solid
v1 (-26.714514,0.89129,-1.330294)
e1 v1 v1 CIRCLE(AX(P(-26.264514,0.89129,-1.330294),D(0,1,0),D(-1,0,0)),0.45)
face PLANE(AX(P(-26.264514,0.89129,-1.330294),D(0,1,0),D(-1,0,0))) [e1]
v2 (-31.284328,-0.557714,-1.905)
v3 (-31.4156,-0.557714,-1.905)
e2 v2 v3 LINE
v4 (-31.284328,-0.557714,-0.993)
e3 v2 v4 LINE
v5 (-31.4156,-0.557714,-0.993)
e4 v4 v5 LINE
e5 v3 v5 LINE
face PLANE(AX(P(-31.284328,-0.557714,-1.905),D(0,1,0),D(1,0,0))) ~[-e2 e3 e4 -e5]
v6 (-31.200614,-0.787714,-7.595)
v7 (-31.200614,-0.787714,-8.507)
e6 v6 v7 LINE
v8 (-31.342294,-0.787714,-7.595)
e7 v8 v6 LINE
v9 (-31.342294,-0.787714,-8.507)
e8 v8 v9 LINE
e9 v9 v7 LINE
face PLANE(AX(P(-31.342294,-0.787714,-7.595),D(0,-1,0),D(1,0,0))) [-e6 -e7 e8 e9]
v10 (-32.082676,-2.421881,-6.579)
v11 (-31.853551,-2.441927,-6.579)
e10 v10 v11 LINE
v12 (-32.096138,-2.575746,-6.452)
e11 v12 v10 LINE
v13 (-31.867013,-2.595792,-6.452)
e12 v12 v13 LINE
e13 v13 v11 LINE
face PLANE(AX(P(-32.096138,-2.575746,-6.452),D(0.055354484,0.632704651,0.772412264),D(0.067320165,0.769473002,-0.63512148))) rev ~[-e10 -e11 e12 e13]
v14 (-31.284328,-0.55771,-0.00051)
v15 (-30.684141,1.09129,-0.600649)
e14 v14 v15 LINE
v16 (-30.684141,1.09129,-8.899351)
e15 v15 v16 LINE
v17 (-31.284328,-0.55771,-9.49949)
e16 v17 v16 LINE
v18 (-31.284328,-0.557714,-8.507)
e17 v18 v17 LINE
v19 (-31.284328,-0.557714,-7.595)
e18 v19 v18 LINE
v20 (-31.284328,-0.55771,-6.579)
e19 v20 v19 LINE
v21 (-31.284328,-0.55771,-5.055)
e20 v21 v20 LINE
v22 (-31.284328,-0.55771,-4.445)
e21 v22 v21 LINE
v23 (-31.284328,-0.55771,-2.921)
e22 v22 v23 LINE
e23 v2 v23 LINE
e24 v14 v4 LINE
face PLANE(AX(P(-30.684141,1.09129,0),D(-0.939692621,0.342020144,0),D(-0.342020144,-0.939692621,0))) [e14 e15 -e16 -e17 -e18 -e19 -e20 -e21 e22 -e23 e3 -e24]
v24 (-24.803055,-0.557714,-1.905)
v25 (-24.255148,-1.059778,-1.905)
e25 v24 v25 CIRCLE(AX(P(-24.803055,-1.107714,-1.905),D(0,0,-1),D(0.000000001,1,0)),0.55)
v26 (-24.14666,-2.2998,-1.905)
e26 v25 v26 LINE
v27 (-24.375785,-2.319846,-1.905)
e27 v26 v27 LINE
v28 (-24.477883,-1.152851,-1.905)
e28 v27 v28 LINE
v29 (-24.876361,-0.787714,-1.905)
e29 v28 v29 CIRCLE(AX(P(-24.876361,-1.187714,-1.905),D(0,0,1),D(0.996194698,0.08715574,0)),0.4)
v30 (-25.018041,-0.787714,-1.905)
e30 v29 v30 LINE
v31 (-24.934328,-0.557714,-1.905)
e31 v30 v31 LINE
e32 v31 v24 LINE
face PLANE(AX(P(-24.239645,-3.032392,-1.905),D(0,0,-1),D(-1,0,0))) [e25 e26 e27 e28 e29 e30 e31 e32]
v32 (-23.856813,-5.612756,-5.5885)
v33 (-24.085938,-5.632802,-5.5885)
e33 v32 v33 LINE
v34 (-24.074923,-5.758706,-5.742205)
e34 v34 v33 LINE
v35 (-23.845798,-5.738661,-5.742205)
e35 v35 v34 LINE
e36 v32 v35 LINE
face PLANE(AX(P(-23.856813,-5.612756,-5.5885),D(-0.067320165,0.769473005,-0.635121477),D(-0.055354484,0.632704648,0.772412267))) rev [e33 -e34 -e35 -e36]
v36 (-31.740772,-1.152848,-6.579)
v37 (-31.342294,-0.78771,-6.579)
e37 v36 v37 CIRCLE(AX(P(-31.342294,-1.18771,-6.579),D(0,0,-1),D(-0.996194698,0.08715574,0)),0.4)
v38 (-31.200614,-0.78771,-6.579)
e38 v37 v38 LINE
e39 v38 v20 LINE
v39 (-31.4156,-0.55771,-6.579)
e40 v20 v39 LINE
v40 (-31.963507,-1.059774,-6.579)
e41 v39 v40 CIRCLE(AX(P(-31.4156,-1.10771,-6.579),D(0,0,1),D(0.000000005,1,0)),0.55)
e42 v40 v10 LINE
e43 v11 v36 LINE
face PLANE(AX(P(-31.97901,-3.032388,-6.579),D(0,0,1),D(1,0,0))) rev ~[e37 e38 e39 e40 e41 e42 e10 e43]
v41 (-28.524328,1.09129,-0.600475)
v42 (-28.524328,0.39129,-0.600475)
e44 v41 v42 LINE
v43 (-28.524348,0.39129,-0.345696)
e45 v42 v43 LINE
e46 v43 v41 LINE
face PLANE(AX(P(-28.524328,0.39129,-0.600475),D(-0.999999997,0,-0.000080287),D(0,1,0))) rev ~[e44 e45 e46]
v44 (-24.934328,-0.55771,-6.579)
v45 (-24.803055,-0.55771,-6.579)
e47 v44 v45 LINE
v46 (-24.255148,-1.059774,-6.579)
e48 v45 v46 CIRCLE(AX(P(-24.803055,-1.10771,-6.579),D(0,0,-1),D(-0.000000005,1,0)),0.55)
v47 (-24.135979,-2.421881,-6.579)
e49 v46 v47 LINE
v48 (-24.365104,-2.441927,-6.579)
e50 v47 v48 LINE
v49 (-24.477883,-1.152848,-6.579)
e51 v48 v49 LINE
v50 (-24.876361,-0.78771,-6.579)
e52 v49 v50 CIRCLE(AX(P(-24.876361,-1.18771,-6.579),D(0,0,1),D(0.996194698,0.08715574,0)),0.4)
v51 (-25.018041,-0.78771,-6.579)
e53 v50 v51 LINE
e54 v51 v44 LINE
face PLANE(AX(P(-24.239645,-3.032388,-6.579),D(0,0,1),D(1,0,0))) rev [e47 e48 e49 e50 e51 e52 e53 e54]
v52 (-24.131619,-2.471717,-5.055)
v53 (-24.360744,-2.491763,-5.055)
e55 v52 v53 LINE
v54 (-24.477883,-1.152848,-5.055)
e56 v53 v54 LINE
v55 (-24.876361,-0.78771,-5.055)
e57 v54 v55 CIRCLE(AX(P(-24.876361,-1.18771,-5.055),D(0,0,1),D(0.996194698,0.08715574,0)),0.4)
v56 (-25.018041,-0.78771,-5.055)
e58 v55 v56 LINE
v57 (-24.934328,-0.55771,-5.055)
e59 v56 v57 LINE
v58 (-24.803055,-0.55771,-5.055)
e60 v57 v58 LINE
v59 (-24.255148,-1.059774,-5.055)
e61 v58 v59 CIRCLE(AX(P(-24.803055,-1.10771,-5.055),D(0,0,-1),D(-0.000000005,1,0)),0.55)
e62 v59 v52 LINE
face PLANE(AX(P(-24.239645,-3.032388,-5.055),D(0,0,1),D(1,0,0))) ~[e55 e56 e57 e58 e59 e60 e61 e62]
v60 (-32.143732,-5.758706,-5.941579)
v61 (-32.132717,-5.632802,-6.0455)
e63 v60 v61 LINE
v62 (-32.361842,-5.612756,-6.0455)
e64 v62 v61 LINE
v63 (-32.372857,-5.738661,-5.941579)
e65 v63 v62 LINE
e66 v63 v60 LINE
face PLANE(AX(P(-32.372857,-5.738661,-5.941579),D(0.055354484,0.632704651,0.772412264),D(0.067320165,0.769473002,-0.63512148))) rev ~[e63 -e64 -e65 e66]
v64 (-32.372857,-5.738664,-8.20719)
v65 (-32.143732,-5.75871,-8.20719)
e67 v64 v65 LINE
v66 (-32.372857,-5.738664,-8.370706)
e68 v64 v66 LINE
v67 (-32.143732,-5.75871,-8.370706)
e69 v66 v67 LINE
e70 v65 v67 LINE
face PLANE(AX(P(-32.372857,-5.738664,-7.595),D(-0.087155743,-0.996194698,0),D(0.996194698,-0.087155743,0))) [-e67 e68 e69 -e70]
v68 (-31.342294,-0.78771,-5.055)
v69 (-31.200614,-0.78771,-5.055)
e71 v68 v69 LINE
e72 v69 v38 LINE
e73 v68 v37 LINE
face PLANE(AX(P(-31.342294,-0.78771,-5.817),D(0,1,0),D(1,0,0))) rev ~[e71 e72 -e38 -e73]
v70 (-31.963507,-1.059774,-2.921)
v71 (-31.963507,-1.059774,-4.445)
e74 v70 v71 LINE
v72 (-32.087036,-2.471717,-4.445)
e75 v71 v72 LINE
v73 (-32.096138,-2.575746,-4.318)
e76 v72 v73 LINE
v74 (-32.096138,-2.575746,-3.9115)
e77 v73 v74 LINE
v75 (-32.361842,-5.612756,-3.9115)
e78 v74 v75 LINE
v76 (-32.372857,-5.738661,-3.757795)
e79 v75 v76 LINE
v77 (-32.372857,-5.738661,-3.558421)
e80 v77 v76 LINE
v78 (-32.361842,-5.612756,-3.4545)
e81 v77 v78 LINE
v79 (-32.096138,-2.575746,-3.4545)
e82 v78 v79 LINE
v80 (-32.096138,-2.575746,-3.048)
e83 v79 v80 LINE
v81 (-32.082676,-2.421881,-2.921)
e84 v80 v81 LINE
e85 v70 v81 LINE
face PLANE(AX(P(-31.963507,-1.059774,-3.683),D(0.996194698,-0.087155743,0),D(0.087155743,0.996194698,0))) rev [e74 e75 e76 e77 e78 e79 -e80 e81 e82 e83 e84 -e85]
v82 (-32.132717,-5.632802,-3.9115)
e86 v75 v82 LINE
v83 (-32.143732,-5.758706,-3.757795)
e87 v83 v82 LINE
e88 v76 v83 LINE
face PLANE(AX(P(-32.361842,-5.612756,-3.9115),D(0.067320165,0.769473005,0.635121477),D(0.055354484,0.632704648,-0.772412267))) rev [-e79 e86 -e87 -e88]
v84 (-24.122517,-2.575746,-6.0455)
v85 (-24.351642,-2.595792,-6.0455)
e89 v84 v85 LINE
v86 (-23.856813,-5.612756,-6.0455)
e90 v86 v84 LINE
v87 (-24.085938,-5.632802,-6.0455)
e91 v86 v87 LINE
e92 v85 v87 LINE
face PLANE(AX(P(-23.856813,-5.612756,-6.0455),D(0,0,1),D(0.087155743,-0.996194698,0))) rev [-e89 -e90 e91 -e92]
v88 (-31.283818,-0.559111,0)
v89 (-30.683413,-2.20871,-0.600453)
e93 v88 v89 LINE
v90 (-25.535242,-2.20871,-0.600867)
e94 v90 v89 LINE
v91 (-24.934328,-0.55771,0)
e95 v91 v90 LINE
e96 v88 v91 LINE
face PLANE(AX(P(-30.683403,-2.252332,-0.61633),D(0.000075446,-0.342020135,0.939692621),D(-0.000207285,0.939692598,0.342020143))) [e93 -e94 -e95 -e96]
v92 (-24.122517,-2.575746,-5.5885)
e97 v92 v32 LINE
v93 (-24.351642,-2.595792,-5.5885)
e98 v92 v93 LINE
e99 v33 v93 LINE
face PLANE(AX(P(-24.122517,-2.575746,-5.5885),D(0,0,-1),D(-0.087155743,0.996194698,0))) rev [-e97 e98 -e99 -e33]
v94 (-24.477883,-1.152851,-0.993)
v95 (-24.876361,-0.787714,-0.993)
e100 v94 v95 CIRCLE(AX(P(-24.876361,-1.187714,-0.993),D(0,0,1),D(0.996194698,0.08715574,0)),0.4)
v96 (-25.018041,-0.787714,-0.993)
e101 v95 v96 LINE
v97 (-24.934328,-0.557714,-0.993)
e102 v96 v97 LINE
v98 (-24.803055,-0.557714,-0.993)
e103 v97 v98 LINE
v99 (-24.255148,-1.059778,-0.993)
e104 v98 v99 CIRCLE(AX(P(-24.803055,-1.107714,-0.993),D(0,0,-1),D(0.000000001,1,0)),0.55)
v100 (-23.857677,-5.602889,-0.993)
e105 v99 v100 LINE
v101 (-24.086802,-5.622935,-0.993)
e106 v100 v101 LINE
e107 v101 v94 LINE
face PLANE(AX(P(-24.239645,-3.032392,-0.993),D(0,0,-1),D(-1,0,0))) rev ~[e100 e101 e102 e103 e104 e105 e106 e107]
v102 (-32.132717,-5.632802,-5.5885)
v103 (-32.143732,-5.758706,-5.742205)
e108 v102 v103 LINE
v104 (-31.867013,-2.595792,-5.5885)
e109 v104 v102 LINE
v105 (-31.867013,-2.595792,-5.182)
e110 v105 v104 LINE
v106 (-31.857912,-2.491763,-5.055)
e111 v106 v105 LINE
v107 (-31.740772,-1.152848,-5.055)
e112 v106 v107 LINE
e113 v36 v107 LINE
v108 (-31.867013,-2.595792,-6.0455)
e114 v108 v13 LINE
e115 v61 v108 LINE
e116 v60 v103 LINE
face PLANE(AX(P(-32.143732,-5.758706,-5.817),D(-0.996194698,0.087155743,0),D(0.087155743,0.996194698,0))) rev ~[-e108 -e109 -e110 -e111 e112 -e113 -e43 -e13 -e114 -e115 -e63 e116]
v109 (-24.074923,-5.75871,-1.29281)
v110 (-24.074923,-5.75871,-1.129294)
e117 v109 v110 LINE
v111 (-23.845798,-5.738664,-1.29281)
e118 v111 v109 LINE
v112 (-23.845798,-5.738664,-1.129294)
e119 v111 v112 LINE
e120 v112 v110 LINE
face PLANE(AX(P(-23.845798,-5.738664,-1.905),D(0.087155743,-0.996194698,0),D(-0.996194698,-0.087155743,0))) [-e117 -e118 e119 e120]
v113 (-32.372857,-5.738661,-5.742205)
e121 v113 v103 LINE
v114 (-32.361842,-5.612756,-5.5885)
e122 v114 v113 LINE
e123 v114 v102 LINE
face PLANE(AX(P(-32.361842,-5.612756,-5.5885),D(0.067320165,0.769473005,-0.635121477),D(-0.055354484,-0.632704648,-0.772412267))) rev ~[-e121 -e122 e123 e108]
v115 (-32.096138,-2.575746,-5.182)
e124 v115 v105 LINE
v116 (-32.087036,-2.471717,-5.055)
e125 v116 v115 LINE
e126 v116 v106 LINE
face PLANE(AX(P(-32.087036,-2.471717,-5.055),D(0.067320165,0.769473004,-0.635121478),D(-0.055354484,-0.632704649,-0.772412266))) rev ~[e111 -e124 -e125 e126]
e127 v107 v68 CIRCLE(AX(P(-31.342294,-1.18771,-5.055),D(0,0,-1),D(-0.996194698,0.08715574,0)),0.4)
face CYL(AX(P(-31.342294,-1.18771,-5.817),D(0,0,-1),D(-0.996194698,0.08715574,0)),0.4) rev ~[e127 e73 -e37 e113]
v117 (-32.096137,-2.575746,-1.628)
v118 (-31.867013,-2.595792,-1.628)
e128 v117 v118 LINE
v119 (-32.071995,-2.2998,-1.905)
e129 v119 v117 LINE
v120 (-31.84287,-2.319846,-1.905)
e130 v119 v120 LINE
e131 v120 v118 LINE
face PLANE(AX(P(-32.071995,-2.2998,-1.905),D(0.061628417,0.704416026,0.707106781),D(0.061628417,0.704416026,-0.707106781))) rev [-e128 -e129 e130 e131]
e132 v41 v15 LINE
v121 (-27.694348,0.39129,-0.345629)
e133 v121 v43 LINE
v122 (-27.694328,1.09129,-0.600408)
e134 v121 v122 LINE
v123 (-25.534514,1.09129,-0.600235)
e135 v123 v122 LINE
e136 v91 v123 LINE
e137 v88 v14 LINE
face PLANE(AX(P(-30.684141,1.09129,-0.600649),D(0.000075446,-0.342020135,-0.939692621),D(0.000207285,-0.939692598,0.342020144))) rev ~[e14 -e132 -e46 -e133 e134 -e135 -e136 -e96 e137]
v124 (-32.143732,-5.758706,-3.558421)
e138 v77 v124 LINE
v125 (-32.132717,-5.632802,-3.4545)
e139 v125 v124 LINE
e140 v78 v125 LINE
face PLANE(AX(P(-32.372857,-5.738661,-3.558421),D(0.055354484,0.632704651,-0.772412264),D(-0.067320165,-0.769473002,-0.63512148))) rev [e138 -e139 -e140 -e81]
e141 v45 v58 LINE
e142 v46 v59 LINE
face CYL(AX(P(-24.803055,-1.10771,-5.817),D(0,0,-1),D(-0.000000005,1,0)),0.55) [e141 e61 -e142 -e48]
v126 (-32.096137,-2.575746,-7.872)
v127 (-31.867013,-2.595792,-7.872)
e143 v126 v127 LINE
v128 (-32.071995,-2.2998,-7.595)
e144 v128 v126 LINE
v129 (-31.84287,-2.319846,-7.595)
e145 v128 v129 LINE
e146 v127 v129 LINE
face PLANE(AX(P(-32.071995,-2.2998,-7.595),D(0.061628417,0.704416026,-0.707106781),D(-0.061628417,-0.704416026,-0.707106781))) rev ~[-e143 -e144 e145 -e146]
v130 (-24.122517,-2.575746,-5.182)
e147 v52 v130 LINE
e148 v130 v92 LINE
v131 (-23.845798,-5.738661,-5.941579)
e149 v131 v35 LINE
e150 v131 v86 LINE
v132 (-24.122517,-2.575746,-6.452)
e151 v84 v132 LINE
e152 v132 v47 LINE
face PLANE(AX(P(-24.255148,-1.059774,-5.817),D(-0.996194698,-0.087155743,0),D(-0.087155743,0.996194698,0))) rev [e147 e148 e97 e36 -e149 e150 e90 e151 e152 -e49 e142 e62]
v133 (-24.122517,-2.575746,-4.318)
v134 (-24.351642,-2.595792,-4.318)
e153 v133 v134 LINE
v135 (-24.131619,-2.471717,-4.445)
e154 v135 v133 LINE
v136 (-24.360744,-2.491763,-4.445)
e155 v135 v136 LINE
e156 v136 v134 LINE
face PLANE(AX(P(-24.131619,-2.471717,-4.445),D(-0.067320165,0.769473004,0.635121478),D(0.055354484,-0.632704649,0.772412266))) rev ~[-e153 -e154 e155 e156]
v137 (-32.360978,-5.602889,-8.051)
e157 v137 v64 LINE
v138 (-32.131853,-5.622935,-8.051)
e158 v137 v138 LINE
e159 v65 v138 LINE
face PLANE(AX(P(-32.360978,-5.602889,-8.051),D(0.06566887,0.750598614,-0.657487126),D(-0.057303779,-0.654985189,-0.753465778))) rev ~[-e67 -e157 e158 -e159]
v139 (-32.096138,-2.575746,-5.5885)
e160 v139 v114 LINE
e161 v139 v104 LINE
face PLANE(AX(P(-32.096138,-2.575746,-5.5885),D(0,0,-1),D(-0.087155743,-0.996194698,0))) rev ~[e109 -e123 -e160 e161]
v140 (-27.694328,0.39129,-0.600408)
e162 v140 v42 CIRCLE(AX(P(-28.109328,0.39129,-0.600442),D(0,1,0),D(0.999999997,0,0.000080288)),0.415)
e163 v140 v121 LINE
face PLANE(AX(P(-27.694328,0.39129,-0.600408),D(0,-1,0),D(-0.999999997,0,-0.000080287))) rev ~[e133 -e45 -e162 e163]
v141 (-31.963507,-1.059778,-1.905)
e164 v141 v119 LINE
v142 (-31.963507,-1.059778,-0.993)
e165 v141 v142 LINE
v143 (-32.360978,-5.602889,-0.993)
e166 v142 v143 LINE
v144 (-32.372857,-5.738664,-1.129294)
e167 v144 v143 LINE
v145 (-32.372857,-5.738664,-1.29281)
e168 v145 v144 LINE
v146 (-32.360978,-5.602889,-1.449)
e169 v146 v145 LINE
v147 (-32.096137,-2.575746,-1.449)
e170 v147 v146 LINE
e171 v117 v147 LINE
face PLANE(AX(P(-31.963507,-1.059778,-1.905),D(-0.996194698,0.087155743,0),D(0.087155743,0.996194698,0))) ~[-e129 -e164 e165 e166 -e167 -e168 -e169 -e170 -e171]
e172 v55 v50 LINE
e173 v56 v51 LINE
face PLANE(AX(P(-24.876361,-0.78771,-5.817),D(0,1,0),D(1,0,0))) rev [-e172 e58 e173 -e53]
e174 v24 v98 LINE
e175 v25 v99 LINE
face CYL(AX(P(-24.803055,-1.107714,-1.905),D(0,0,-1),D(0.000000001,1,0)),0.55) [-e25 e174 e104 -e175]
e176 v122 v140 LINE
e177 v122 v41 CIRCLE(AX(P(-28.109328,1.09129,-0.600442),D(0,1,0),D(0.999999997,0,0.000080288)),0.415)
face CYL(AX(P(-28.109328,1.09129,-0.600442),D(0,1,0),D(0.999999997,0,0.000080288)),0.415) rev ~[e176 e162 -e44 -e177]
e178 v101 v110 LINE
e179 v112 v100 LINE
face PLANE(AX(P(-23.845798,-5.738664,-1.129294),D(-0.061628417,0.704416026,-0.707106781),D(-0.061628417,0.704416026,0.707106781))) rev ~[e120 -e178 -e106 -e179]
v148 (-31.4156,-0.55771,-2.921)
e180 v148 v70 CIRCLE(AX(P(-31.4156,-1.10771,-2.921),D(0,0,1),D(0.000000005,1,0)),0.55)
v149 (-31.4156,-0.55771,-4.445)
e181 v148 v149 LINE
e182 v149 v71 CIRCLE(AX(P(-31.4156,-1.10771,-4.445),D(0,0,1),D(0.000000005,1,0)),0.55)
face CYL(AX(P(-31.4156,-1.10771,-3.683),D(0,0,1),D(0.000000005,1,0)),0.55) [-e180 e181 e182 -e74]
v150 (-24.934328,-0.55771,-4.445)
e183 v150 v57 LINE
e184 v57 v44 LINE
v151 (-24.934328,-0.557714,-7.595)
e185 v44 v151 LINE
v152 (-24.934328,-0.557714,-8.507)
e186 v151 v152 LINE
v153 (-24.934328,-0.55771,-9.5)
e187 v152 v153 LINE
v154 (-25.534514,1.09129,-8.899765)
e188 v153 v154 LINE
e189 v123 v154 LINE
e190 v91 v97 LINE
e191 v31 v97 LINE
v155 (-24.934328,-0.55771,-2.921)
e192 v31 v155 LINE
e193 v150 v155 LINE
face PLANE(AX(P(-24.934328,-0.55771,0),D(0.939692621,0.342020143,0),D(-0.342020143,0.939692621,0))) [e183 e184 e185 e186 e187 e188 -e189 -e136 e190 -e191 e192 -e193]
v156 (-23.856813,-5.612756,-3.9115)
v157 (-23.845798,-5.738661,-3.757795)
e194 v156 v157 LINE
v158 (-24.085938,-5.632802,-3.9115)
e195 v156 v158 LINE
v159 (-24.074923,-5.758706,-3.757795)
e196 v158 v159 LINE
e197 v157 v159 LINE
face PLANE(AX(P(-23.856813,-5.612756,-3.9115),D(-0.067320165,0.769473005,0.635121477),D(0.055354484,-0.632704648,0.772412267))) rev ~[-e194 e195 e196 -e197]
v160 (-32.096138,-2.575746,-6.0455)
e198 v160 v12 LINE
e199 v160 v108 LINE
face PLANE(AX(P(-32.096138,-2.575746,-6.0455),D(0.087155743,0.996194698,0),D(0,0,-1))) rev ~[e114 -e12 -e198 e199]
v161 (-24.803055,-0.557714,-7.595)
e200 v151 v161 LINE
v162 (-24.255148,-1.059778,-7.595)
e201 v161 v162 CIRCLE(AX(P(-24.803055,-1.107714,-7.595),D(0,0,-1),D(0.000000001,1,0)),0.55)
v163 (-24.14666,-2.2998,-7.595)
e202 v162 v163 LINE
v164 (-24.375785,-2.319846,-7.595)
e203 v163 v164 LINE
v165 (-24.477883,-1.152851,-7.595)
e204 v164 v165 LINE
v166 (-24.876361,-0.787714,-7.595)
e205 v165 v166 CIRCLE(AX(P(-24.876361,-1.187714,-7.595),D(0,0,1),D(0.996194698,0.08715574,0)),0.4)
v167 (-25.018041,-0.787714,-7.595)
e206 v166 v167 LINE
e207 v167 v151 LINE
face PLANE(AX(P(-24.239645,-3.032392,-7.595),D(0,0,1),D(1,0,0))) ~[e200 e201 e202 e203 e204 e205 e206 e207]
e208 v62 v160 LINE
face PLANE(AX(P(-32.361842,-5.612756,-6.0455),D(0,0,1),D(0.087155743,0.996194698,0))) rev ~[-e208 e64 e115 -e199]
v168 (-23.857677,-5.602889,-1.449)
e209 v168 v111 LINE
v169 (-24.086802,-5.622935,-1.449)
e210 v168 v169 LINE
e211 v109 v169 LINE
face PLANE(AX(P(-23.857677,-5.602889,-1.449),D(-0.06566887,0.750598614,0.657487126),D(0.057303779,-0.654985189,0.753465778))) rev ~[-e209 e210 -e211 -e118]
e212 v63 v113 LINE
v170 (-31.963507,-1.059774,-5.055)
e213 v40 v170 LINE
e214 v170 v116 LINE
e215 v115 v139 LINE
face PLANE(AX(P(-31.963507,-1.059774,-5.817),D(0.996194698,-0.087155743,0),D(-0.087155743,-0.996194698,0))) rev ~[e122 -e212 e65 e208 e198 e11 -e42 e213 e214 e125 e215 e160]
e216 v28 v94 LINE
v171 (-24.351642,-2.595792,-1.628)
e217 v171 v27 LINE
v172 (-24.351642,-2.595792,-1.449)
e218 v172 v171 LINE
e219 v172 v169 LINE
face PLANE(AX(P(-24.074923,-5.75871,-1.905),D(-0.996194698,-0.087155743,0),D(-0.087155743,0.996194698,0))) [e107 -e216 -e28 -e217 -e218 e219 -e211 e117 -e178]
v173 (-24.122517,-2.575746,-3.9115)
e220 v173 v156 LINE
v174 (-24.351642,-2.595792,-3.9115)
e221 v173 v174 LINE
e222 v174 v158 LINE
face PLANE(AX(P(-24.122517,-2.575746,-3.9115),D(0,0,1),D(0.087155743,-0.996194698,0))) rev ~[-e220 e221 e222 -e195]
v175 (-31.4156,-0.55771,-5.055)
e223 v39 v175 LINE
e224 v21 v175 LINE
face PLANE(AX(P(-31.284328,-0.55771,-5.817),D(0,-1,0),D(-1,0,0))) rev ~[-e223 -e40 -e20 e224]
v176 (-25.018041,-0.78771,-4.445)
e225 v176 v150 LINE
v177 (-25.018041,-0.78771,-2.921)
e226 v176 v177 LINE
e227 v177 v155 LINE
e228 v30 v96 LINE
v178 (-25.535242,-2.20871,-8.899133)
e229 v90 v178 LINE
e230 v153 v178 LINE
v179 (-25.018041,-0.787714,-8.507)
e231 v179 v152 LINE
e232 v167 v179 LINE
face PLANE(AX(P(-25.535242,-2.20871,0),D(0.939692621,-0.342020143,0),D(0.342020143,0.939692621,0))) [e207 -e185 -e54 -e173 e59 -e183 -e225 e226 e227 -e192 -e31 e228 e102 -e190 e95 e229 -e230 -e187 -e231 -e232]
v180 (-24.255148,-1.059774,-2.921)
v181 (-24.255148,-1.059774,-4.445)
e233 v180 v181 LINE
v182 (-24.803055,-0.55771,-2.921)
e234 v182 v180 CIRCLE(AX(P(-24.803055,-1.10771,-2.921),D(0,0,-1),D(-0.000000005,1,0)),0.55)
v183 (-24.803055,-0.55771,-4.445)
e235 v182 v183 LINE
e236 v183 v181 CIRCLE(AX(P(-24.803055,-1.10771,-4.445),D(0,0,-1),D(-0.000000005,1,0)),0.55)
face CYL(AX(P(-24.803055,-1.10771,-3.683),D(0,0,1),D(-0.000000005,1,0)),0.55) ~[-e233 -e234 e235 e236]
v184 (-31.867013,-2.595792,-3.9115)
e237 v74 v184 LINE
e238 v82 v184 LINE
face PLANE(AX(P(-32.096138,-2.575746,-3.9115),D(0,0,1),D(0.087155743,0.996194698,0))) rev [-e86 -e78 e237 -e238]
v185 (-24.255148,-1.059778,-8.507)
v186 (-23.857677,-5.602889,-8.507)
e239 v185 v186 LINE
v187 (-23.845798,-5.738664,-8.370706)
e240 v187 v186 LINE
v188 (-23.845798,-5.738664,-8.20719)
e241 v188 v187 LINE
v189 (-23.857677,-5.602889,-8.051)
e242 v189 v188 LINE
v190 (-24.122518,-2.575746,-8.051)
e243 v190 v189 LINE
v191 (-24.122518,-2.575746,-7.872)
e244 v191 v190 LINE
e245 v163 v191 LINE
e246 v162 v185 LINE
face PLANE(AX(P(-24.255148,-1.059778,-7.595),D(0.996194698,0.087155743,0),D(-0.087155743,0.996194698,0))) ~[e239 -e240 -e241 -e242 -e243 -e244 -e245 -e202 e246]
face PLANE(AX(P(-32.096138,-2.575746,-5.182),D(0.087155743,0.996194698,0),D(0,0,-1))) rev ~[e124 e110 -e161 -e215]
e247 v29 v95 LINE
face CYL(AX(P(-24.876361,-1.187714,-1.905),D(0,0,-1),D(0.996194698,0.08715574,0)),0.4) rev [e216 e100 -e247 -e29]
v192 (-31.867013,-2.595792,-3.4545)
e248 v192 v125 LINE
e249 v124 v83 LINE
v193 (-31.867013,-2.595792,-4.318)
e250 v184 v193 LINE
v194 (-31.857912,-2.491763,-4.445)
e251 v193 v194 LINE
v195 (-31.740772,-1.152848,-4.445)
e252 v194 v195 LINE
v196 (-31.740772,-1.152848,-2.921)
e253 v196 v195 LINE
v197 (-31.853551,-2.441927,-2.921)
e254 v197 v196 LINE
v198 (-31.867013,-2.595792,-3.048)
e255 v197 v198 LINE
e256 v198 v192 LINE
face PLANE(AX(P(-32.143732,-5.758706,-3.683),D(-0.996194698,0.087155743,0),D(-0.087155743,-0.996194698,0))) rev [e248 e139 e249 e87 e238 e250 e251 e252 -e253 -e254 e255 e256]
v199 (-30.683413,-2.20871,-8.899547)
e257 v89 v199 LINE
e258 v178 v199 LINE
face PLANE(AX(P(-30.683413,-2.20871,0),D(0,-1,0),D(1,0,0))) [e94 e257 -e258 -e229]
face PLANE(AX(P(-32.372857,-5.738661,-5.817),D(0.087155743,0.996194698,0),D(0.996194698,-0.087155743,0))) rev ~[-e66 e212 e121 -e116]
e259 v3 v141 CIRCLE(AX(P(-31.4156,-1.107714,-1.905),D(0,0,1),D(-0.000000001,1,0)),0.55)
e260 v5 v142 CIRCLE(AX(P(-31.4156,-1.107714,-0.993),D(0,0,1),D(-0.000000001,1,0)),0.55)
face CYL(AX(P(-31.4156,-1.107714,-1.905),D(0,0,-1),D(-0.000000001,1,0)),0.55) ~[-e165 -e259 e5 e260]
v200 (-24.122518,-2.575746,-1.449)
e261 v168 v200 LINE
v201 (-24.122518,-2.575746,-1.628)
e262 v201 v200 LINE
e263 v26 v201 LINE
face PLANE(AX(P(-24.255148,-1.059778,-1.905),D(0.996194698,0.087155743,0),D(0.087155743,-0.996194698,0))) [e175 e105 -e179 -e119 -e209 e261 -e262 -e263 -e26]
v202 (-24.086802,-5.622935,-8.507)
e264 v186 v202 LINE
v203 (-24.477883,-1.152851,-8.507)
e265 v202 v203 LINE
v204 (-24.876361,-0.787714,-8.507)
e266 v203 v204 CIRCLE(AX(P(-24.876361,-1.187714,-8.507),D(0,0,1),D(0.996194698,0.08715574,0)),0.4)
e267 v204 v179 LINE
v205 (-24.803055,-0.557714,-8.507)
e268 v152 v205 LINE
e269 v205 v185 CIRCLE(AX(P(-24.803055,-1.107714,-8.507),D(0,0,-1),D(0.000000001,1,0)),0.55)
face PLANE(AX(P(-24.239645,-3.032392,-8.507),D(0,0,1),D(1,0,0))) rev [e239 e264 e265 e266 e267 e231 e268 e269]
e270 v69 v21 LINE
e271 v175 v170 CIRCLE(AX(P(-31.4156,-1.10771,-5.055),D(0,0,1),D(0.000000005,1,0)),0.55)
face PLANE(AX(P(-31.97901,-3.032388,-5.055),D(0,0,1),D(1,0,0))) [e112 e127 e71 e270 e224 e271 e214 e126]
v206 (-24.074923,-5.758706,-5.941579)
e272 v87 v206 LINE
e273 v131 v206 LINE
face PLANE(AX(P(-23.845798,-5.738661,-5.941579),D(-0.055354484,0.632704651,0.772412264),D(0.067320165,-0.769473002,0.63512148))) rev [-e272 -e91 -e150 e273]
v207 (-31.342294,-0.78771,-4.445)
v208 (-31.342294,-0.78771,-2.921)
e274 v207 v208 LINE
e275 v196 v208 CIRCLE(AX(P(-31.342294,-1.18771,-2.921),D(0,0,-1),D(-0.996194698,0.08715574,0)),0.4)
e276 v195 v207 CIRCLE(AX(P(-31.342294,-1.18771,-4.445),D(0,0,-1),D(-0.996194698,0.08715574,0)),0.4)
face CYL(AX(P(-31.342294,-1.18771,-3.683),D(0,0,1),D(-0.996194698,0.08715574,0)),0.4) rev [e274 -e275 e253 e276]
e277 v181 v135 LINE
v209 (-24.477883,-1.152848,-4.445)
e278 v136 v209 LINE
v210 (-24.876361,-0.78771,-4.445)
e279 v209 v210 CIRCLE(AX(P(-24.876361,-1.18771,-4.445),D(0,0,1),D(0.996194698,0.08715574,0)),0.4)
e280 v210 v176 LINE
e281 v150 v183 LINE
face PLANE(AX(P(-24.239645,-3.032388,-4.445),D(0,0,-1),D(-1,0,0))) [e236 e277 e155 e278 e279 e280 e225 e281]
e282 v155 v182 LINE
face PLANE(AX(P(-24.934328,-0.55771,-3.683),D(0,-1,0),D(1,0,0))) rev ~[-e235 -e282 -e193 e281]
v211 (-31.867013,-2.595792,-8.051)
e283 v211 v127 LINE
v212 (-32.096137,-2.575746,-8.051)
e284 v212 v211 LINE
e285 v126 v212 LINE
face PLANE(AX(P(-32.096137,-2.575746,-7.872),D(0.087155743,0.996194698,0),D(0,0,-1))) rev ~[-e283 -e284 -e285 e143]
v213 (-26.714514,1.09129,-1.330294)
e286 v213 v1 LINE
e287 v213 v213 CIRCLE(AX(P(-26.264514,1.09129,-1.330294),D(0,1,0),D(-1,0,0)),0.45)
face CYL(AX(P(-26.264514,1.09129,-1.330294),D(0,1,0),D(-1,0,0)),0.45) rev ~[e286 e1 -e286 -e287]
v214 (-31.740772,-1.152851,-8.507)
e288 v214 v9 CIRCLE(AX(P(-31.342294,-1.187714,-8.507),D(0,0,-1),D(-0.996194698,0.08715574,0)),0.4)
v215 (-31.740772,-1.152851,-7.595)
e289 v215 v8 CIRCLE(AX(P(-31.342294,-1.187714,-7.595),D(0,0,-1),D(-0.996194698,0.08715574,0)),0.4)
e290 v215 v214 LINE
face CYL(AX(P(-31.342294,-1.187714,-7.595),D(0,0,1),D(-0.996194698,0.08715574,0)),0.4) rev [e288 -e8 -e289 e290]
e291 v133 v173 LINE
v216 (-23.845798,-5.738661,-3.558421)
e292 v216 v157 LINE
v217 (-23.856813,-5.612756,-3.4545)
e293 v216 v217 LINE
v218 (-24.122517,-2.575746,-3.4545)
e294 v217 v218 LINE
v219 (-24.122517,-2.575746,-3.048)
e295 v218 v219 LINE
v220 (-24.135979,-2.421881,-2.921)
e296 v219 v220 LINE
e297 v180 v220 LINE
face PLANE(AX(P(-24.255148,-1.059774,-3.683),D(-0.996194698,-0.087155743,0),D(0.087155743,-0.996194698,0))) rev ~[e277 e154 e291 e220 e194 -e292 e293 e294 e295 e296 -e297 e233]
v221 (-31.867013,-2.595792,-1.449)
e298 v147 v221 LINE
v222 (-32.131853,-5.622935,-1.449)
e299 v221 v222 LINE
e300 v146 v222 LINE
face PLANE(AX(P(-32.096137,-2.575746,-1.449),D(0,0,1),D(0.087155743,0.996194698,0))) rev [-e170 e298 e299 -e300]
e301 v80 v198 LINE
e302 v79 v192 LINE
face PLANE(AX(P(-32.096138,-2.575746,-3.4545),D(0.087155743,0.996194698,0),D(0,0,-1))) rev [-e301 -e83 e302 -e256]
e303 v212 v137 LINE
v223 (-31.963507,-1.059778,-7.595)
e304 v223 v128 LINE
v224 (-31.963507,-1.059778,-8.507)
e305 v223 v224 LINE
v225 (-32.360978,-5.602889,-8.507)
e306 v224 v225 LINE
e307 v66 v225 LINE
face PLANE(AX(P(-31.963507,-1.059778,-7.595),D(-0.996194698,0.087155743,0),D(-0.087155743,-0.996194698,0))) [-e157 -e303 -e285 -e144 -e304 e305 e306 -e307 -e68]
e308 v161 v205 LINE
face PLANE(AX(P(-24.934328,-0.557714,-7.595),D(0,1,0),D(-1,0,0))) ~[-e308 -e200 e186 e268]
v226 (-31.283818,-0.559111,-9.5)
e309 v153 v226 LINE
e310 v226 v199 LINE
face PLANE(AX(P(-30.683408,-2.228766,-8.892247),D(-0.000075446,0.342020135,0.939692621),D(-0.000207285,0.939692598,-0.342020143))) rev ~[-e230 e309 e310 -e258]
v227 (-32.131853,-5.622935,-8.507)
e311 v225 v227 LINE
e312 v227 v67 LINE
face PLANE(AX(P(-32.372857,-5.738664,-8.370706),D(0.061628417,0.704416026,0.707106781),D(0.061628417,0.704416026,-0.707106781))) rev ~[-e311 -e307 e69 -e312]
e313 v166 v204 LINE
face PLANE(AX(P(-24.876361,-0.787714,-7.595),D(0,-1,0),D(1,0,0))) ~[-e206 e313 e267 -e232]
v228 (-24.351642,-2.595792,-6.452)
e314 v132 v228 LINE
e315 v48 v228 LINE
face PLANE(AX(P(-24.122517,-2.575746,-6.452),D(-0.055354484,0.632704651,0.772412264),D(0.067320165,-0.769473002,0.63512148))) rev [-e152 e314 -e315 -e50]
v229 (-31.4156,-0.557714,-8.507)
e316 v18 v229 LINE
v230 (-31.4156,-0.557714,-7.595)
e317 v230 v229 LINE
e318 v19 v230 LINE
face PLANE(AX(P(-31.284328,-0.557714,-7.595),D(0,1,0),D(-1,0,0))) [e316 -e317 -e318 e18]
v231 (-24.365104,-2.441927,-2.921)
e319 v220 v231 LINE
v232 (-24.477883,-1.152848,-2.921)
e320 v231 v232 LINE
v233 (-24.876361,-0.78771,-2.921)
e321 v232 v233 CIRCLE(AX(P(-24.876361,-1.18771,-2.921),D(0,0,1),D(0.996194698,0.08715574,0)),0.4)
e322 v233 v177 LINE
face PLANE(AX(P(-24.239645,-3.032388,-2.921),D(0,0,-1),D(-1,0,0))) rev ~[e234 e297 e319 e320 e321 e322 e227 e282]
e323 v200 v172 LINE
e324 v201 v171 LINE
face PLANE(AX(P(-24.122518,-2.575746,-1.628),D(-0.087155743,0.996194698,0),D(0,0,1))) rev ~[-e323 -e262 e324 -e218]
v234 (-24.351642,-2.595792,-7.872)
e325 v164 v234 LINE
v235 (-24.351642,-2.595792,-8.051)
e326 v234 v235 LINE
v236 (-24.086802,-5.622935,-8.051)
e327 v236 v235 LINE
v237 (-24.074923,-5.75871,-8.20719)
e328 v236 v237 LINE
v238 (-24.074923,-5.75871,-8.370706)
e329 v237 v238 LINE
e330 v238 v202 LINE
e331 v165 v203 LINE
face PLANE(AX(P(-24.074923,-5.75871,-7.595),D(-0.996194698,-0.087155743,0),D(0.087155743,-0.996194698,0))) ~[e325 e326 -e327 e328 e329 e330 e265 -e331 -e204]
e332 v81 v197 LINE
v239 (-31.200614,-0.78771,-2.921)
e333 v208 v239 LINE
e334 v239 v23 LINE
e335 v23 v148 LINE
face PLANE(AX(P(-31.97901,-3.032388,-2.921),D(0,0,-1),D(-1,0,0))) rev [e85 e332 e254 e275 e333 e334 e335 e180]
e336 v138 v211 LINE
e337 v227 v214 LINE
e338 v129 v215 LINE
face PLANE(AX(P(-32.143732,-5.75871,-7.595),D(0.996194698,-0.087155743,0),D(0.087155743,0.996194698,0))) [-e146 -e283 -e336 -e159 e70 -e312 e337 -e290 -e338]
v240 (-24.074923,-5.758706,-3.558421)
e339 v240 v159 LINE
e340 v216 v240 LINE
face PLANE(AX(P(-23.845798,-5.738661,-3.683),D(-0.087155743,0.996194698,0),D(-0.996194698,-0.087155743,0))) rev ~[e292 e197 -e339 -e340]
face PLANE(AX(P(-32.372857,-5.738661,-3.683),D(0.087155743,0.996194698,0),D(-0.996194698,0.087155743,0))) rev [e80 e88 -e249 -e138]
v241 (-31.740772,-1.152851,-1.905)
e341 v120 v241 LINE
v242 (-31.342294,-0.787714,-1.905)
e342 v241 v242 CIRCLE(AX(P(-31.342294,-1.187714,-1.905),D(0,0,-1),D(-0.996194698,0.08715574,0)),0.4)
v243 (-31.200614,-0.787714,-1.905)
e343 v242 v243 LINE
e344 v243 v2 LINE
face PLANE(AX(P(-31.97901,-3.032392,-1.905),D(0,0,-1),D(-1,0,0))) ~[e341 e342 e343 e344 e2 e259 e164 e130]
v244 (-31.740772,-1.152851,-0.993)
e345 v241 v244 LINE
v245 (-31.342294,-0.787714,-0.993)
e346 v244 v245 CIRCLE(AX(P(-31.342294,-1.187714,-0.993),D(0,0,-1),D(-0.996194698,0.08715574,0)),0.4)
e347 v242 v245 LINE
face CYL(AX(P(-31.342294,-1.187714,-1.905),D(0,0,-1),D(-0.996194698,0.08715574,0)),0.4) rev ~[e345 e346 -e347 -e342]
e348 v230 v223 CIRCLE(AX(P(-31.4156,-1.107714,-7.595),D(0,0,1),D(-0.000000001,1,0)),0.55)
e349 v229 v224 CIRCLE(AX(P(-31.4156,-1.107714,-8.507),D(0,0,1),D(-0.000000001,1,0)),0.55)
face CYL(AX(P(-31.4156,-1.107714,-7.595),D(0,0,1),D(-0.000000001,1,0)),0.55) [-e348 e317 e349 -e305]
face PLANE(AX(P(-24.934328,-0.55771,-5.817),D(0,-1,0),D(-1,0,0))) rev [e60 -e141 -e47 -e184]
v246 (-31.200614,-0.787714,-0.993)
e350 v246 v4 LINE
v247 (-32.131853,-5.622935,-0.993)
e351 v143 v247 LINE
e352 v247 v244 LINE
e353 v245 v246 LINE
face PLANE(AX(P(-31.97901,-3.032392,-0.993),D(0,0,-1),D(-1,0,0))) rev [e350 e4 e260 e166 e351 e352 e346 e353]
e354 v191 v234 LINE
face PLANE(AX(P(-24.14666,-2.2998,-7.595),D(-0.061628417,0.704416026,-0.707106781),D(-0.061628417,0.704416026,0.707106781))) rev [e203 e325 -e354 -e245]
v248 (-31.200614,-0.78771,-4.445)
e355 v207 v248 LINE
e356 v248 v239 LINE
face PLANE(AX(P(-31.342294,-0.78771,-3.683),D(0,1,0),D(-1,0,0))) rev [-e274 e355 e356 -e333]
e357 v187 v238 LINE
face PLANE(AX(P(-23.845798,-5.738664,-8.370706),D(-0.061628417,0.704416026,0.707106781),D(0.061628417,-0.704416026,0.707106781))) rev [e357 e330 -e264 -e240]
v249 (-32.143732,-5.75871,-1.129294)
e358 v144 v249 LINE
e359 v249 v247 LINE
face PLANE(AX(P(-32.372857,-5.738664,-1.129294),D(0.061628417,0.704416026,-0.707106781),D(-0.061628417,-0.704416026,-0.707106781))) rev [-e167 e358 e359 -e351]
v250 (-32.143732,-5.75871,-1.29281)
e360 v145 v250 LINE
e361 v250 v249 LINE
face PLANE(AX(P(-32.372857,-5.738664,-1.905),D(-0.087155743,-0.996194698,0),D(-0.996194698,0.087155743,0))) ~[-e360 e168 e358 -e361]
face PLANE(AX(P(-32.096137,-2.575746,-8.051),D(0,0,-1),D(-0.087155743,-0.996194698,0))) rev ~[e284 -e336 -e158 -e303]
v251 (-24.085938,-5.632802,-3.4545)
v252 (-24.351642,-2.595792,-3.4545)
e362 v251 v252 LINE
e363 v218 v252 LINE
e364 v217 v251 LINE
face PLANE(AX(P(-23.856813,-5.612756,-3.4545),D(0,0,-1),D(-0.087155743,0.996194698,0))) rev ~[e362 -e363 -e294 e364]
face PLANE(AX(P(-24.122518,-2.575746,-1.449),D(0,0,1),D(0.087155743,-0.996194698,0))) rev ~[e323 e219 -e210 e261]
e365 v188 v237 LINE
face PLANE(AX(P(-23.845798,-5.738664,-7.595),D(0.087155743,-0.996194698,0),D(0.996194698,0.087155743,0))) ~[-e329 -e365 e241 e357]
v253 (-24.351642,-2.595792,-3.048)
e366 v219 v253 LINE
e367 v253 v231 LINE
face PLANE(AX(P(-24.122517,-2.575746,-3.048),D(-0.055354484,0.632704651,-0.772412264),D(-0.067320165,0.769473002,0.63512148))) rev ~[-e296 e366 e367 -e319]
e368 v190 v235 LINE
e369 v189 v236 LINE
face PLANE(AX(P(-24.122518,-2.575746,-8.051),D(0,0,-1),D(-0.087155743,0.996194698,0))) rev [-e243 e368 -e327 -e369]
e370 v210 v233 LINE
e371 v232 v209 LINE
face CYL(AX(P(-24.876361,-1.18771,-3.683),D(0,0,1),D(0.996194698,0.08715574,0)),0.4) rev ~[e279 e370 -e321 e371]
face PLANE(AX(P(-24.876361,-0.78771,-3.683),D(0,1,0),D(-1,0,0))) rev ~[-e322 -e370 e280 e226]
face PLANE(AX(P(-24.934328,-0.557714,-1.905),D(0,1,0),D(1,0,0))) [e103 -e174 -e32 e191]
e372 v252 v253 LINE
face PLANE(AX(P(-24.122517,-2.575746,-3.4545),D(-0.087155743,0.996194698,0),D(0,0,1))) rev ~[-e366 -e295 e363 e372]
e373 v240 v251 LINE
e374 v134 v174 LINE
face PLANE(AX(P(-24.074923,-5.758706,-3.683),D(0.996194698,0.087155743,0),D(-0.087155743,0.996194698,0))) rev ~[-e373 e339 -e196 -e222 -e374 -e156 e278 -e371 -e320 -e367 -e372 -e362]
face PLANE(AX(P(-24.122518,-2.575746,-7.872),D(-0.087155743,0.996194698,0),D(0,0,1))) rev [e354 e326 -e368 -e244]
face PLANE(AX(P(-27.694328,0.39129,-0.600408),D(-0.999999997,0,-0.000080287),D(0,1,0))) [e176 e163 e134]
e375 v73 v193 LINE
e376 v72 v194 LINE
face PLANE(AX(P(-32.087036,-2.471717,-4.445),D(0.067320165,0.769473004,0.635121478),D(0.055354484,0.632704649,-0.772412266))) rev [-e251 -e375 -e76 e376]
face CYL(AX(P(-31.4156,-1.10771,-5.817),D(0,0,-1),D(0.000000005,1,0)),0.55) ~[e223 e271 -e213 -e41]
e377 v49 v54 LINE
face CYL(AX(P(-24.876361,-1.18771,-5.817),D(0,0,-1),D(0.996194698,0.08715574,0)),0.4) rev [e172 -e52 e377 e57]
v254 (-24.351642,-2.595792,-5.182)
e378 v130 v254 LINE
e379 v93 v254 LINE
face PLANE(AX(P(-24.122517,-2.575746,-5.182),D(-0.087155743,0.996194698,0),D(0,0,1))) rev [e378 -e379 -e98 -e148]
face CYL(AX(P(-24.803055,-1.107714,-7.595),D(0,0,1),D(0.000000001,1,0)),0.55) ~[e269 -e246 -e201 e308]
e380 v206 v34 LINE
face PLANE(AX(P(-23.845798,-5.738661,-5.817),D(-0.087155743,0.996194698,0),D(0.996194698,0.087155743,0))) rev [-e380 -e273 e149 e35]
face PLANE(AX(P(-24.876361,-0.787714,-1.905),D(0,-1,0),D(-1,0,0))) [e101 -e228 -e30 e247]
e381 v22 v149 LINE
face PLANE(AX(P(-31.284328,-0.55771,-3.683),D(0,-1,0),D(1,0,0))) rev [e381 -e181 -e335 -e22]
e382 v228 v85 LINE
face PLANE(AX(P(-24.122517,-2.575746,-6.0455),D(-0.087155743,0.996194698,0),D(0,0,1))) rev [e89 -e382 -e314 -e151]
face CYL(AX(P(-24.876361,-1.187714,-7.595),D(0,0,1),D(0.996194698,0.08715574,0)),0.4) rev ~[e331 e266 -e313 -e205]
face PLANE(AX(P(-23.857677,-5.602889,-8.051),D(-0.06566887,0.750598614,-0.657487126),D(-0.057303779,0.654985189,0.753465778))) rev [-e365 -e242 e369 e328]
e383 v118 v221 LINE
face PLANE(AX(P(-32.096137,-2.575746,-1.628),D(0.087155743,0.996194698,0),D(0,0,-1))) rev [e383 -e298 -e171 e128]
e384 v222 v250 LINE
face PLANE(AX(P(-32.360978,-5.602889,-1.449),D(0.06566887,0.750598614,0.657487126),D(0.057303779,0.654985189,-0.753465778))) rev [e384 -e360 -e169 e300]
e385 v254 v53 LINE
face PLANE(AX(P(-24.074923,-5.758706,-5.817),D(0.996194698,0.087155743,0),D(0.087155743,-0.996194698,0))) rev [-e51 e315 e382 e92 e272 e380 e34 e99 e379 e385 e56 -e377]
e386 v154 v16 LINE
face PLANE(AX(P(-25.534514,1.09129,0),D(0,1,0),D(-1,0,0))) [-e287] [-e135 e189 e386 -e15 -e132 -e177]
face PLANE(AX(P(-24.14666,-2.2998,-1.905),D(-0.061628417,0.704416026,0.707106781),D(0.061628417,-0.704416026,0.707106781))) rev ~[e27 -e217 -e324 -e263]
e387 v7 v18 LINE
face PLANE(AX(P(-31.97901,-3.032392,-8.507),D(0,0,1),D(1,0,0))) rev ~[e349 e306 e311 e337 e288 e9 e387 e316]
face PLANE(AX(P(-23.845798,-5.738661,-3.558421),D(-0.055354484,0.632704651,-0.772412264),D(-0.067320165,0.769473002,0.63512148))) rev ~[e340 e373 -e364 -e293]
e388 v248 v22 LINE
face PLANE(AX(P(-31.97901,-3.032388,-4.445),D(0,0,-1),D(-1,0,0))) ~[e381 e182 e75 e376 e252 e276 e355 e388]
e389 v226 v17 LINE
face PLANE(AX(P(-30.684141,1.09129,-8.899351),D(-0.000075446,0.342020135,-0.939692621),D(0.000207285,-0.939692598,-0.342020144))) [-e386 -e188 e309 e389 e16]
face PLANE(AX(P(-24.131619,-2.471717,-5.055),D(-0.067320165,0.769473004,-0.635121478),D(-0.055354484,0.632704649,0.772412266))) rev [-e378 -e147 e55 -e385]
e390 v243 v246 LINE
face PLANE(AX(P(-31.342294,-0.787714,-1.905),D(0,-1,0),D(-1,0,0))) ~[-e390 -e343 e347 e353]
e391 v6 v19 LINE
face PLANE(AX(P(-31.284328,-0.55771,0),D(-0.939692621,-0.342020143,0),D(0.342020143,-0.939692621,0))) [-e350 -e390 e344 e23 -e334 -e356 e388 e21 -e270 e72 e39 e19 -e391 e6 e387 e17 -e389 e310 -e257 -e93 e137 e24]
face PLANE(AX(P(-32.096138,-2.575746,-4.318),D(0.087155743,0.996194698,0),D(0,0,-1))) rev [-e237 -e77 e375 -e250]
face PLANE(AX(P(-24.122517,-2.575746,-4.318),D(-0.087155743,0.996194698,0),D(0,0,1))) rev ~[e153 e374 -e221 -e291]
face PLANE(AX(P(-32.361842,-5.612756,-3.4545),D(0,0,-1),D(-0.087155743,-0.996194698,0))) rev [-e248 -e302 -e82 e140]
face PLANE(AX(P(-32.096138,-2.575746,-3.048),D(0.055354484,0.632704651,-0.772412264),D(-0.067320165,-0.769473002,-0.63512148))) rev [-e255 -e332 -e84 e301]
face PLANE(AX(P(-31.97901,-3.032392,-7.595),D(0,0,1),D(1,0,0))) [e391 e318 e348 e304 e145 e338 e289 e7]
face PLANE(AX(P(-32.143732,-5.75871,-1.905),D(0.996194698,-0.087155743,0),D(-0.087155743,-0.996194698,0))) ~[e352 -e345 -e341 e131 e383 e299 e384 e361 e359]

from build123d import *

# Parameters (mm, degrees)
BOSS_EXTRUDE1_DEPTH     = 9.5
CUT_EXTRUDE2_DEPTH      = 9.5
CUT_EXTRUDE2_DEPTH_BACK = 9.5
CUT_EXTRUDE3_DEPTH      = 0.7
SKETCH4_W               = 0.83
SKETCH4_H               = 0.7
CUT_EXTRUDE4_DEPTH      = 0.7
BOSS_EXTRUDE2_START     = -0.762
BOSS_EXTRUDE2_DEPTH     = 0.912
CUT_EXTRUDE5_DEPTH      = 10.15
SKETCH9_R               = 0.45
CUT_EXTRUDE7_DEPTH      = 0.2
BOSS_EXTRUDE3_DEPTH     = 0.762
CUT_EXTRUDE6_DEPTH      = 0.762
MIRROR2_START           = -0.762
MIRROR2_COPY_1_DEPTH    = 0.912
MIRROR2_COPY_2_DEPTH    = 10.15
MIRROR2_COPY_3_DEPTH    = 0.762
MIRROR2_COPY_4_DEPTH    = 0.762


with BuildPart() as part:
    # Sketch1 → Boss-Extrude1 (new body)
    with BuildSketch(Plane.XY):
        Polygon((-24.934327538, -0.557710036), (-25.534514454, 1.091289964), (-30.684140621, 1.091289964), (-31.284327538, -0.557710036), (-30.683412681, -2.208710036), (-25.535242395, -2.208710036), align=None)
    extrude(amount=-BOSS_EXTRUDE1_DEPTH)

    # Sketch2 → Cut-Extrude2 (cut, two sides)
    with BuildSketch(Plane(origin=(-30.683898403, -0.0067685, 0), x_dir=(0, 0, 1), z_dir=(-0.9999999756704636, -0.00022058801540043594, 0))) as cut_extrude2_sk:
        Polygon((-0.616330332, -2.245563479), (0, -0.552209808), (0, -2.212209808), align=None)
        Polygon((-0.60064854, 1.098058491), (0, -0.552209808), (0, 1.098058491), align=None)
        Polygon((-9.5, -2.212209808), (-8.892247033, -2.221997362), (-9.5, -0.552209808), align=None)
        Polygon((-9.5, -0.552209808), (-9.5, 1.098058491), (-8.89935146, 1.098058491), align=None)
    extrude(amount=CUT_EXTRUDE2_DEPTH, mode=Mode.SUBTRACT)
    extrude(cut_extrude2_sk.sketch, amount=-CUT_EXTRUDE2_DEPTH_BACK, mode=Mode.SUBTRACT)

    # Sketch3 → Cut-Extrude3 (cut)
    with BuildSketch(Plane(origin=(0, 1.091289964, 0), x_dir=(1, 0, 0), z_dir=(0, 1, 0))):
        with BuildLine():
            Line((-28.524327536, 0.600475134), (-27.694327539, 0.600408495))
            ThreePointArc((-27.694327539, 0.600408495), (-28.109294218, 1.015441813), (-28.524327536, 0.600475134))
        make_face()
    extrude(amount=-CUT_EXTRUDE3_DEPTH, mode=Mode.SUBTRACT)

    # Sketch4 → Cut-Extrude4 (cut)
    with BuildSketch(Plane(origin=(4.8027e-05, 0, -0.598184984), x_dir=(-0.9999999967769609, 0, -8.028747138262029e-05), z_dir=(8.028747138262029e-05, 0, -0.9999999967769609))):
        with Locations((28.109375655, 0.741289964)):
            Rectangle(SKETCH4_W, SKETCH4_H)
    extrude(amount=-CUT_EXTRUDE4_DEPTH, mode=Mode.SUBTRACT)


with BuildPart() as boss_extrude2_tool:
    # Sketch5 → Boss-Extrude2 (new body)
    with BuildSketch(Plane.XY.offset(-1.143).offset(BOSS_EXTRUDE2_START)):
        with BuildLine():
            Line((-24.934327536, -0.557713614), (-24.80305479, -0.557713614))
            ThreePointArc((-24.80305479, -0.557713614), (-24.431480176, -0.702211079), (-24.255147706, -1.059777956))
            Line((-24.255147706, -1.059777956), (-23.8457982, -5.738664215))
            Line((-23.8457982, -5.738664215), (-24.074922981, -5.758710036))
            Line((-24.074922981, -5.758710036), (-24.477883405, -1.152851317))
            ThreePointArc((-24.477883405, -1.152851317), (-24.606125201, -0.892802679), (-24.876361284, -0.787713614))
            Line((-24.876361284, -0.787713614), (-25.018040872, -0.787713614))
            Line((-25.018040872, -0.787713614), (-24.934327536, -0.557713614))
        make_face()
    boss_extrude2 = extrude(amount=BOSS_EXTRUDE2_DEPTH)


with BuildPart() as part_1:
    add(part.part)


with BuildPart() as part_2:
    # Boss-Extrude2: joined with boss_extrude2_tool
    add(part_1.part.fuse(boss_extrude2_tool.part, tol=0.00001))

    # Sketch6 → Cut-Extrude5 (cut)
    with BuildSketch(Plane(origin=(-24.162916864, -2.113981303, 0), x_dir=(0, 0, -1), z_dir=(0.9961946980917458, 0.08715574274765556, 0))):
        Polygon((0.993, -3.502234692), (0.993, -3.638528611), (1.129293919, -3.638528611), align=None)
        Polygon((1.449, -3.502234692), (1.292810168, -3.638528611), (1.449, -3.638528611), align=None)
        Polygon((1.449, -3.502234692), (1.449, -3.638528611), (1.905, -3.638528611), (1.905, -0.186528611), (1.628, -0.463528611), (1.449, -0.463528611), align=None)
    cut_extrude5 = extrude(amount=-CUT_EXTRUDE5_DEPTH, mode=Mode.SUBTRACT)

    # Sketch9 → Cut-Extrude7 (cut)
    with BuildSketch(Plane(origin=(0, 1.091289964, 0), x_dir=(1, 0, 0), z_dir=(0, 1, 0))):
        with Locations(Location((-26.264514454, 1.330293701, 0), (0, 0, 180))):
            Circle(SKETCH9_R)
    extrude(amount=-CUT_EXTRUDE7_DEPTH, mode=Mode.SUBTRACT)

    # Sketch7 → Boss-Extrude3 (add, symmetric)
    with BuildSketch(Plane.XY.offset(-3.683)):
        with BuildLine():
            Line((-24.934327538, -0.557710036), (-24.803054792, -0.557710036))
            ThreePointArc((-24.803054792, -0.557710036), (-24.431480177, -0.7022075), (-24.255147708, -1.059774377))
            Line((-24.255147708, -1.059774377), (-23.845798202, -5.738660636))
            Line((-23.845798202, -5.738660636), (-24.074922983, -5.758706457))
            Line((-24.074922983, -5.758706457), (-24.477883406, -1.152847739))
            ThreePointArc((-24.477883406, -1.152847739), (-24.606125202, -0.892799101), (-24.876361286, -0.787710036))
            Line((-24.876361286, -0.787710036), (-25.018040873, -0.787710036))
            Line((-25.018040873, -0.787710036), (-24.934327538, -0.557710036))
        make_face()
    boss_extrude3 = extrude(amount=BOSS_EXTRUDE3_DEPTH, both=True)

    # Sketch8 → Cut-Extrude6 (cut)
    with BuildSketch(Plane(origin=(-24.162916555, -2.113981276, 0), x_dir=(0, 0, -1), z_dir=(0.9961946980917459, 0.08715574274765502, 0))):
        Polygon((2.921, -3.638525046), (3.4545, -3.638525046), (3.4545, -3.512139824), (3.4545, -0.463528611), (3.048, -0.463528611), (2.921, -0.309075706), align=None)
        Polygon((3.9115, -0.463528611), (3.9115, -3.512139824), (3.9115, -3.638525046), (4.445, -3.638525046), (4.445, -0.359101958), (4.318, -0.463528611), align=None)
        Polygon((3.4545, -3.512139824), (3.4545, -3.638525046), (3.558421148, -3.638525046), align=None)
        Polygon((3.9115, -3.512139824), (3.757794765, -3.638525046), (3.9115, -3.638525046), align=None)
    cut_extrude6 = extrude(amount=-CUT_EXTRUDE6_DEPTH, mode=Mode.SUBTRACT)

    # Mirror1: Boss-Extrude2, Cut-Extrude5, Boss-Extrude3, Cut-Extrude6 across plane
    add(boss_extrude2.mirror(Plane.XY.offset(-4.75)))
    add(cut_extrude5.mirror(Plane.XY.offset(-4.75)), mode=Mode.SUBTRACT)
    add(boss_extrude3.mirror(Plane.XY.offset(-4.75)))
    add(cut_extrude6.mirror(Plane.XY.offset(-4.75)), mode=Mode.SUBTRACT)

    # Mirror2: Boss-Extrude2, Cut-Extrude5, Boss-Extrude3, Cut-Extrude6 across plane
    add(boss_extrude2.mirror(Plane(origin=(-28.109327538, 0, 0), x_dir=(0, 0, 1), z_dir=(1, 0, 0))))
    add(cut_extrude5.mirror(Plane(origin=(-28.109327538, 0, 0), x_dir=(0, 0, 1), z_dir=(1, 0, 0))), mode=Mode.SUBTRACT)
    add(boss_extrude3.mirror(Plane(origin=(-28.109327538, 0, 0), x_dir=(0, 0, 1), z_dir=(1, 0, 0))))
    add(cut_extrude6.mirror(Plane(origin=(-28.109327538, 0, 0), x_dir=(0, 0, 1), z_dir=(1, 0, 0))), mode=Mode.SUBTRACT)


with BuildPart() as mirror2_copy_1_tool:
    # Mirror2 copy 1 sketch → Mirror2 copy 1 (new body)
    with BuildSketch(Plane(origin=(-56.218655076, 0, -8.357), x_dir=(-1, 0, 0), z_dir=(0, 0, -1)).offset(MIRROR2_START)):
        with BuildLine():
            Line((-24.934327536, -0.557713614), (-24.80305479, -0.557713614))
            ThreePointArc((-24.80305479, -0.557713614), (-24.431480176, -0.702211079), (-24.255147706, -1.059777956))
            Line((-24.255147706, -1.059777956), (-23.8457982, -5.738664215))
            Line((-23.8457982, -5.738664215), (-24.074922981, -5.758710036))
            Line((-24.074922981, -5.758710036), (-24.477883405, -1.152851317))
            ThreePointArc((-24.477883405, -1.152851317), (-24.606125201, -0.892802679), (-24.876361284, -0.787713614))
            Line((-24.876361284, -0.787713614), (-25.018040872, -0.787713614))
            Line((-25.018040872, -0.787713614), (-24.934327536, -0.557713614))
        make_face()
    extrude(amount=MIRROR2_COPY_1_DEPTH)


with BuildPart() as part_3:
    add(part_2.part)


with BuildPart() as part_4:
    # Mirror2 copy 1: joined with mirror2_copy_1_tool
    add(part_3.part.fuse(mirror2_copy_1_tool.part, tol=0.00001))

    # Mirror2 copy 2 sketch → Mirror2 copy 2 (cut)
    with BuildSketch(Plane(origin=(-32.055738211, -2.113981303, -9.5), x_dir=(0, 0, 1), z_dir=(-0.9961946980917458, 0.08715574274765556, 0))):
        Polygon((0.993, -3.502234692), (0.993, -3.638528611), (1.129293919, -3.638528611), align=None)
        Polygon((1.449, -3.502234692), (1.292810168, -3.638528611), (1.449, -3.638528611), align=None)
        Polygon((1.449, -3.502234692), (1.449, -3.638528611), (1.905, -3.638528611), (1.905, -0.186528611), (1.628, -0.463528611), (1.449, -0.463528611), align=None)
    extrude(amount=-MIRROR2_COPY_2_DEPTH, mode=Mode.SUBTRACT)

    # Mirror2 copy 3 sketch → Mirror2 copy 3 (add, symmetric)
    with BuildSketch(Plane(origin=(-56.218655076, 0, -5.817), x_dir=(-1, 0, 0), z_dir=(0, 0, -1))):
        with BuildLine():
            Line((-24.934327538, -0.557710036), (-24.803054792, -0.557710036))
            ThreePointArc((-24.803054792, -0.557710036), (-24.431480177, -0.7022075), (-24.255147708, -1.059774377))
            Line((-24.255147708, -1.059774377), (-23.845798202, -5.738660636))
            Line((-23.845798202, -5.738660636), (-24.074922983, -5.758706457))
            Line((-24.074922983, -5.758706457), (-24.477883406, -1.152847739))
            ThreePointArc((-24.477883406, -1.152847739), (-24.606125202, -0.892799101), (-24.876361286, -0.787710036))
            Line((-24.876361286, -0.787710036), (-25.018040873, -0.787710036))
            Line((-25.018040873, -0.787710036), (-24.934327538, -0.557710036))
        make_face()
    extrude(amount=MIRROR2_COPY_3_DEPTH, both=True)

    # Mirror2 copy 4 sketch → Mirror2 copy 4 (cut)
    with BuildSketch(Plane(origin=(-32.055738521, -2.113981276, -9.5), x_dir=(0, 0, 1), z_dir=(-0.9961946980917459, 0.08715574274765502, 0))):
        Polygon((2.921, -3.638525046), (3.4545, -3.638525046), (3.4545, -3.512139824), (3.4545, -0.463528611), (3.048, -0.463528611), (2.921, -0.309075706), align=None)
        Polygon((3.9115, -0.463528611), (3.9115, -3.512139824), (3.9115, -3.638525046), (4.445, -3.638525046), (4.445, -0.359101958), (4.318, -0.463528611), align=None)
        Polygon((3.4545, -3.512139824), (3.4545, -3.638525046), (3.558421148, -3.638525046), align=None)
        Polygon((3.9115, -3.512139824), (3.757794765, -3.638525046), (3.9115, -3.638525046), align=None)
    extrude(amount=-MIRROR2_COPY_4_DEPTH, mode=Mode.SUBTRACT)


solid = part_4.part
